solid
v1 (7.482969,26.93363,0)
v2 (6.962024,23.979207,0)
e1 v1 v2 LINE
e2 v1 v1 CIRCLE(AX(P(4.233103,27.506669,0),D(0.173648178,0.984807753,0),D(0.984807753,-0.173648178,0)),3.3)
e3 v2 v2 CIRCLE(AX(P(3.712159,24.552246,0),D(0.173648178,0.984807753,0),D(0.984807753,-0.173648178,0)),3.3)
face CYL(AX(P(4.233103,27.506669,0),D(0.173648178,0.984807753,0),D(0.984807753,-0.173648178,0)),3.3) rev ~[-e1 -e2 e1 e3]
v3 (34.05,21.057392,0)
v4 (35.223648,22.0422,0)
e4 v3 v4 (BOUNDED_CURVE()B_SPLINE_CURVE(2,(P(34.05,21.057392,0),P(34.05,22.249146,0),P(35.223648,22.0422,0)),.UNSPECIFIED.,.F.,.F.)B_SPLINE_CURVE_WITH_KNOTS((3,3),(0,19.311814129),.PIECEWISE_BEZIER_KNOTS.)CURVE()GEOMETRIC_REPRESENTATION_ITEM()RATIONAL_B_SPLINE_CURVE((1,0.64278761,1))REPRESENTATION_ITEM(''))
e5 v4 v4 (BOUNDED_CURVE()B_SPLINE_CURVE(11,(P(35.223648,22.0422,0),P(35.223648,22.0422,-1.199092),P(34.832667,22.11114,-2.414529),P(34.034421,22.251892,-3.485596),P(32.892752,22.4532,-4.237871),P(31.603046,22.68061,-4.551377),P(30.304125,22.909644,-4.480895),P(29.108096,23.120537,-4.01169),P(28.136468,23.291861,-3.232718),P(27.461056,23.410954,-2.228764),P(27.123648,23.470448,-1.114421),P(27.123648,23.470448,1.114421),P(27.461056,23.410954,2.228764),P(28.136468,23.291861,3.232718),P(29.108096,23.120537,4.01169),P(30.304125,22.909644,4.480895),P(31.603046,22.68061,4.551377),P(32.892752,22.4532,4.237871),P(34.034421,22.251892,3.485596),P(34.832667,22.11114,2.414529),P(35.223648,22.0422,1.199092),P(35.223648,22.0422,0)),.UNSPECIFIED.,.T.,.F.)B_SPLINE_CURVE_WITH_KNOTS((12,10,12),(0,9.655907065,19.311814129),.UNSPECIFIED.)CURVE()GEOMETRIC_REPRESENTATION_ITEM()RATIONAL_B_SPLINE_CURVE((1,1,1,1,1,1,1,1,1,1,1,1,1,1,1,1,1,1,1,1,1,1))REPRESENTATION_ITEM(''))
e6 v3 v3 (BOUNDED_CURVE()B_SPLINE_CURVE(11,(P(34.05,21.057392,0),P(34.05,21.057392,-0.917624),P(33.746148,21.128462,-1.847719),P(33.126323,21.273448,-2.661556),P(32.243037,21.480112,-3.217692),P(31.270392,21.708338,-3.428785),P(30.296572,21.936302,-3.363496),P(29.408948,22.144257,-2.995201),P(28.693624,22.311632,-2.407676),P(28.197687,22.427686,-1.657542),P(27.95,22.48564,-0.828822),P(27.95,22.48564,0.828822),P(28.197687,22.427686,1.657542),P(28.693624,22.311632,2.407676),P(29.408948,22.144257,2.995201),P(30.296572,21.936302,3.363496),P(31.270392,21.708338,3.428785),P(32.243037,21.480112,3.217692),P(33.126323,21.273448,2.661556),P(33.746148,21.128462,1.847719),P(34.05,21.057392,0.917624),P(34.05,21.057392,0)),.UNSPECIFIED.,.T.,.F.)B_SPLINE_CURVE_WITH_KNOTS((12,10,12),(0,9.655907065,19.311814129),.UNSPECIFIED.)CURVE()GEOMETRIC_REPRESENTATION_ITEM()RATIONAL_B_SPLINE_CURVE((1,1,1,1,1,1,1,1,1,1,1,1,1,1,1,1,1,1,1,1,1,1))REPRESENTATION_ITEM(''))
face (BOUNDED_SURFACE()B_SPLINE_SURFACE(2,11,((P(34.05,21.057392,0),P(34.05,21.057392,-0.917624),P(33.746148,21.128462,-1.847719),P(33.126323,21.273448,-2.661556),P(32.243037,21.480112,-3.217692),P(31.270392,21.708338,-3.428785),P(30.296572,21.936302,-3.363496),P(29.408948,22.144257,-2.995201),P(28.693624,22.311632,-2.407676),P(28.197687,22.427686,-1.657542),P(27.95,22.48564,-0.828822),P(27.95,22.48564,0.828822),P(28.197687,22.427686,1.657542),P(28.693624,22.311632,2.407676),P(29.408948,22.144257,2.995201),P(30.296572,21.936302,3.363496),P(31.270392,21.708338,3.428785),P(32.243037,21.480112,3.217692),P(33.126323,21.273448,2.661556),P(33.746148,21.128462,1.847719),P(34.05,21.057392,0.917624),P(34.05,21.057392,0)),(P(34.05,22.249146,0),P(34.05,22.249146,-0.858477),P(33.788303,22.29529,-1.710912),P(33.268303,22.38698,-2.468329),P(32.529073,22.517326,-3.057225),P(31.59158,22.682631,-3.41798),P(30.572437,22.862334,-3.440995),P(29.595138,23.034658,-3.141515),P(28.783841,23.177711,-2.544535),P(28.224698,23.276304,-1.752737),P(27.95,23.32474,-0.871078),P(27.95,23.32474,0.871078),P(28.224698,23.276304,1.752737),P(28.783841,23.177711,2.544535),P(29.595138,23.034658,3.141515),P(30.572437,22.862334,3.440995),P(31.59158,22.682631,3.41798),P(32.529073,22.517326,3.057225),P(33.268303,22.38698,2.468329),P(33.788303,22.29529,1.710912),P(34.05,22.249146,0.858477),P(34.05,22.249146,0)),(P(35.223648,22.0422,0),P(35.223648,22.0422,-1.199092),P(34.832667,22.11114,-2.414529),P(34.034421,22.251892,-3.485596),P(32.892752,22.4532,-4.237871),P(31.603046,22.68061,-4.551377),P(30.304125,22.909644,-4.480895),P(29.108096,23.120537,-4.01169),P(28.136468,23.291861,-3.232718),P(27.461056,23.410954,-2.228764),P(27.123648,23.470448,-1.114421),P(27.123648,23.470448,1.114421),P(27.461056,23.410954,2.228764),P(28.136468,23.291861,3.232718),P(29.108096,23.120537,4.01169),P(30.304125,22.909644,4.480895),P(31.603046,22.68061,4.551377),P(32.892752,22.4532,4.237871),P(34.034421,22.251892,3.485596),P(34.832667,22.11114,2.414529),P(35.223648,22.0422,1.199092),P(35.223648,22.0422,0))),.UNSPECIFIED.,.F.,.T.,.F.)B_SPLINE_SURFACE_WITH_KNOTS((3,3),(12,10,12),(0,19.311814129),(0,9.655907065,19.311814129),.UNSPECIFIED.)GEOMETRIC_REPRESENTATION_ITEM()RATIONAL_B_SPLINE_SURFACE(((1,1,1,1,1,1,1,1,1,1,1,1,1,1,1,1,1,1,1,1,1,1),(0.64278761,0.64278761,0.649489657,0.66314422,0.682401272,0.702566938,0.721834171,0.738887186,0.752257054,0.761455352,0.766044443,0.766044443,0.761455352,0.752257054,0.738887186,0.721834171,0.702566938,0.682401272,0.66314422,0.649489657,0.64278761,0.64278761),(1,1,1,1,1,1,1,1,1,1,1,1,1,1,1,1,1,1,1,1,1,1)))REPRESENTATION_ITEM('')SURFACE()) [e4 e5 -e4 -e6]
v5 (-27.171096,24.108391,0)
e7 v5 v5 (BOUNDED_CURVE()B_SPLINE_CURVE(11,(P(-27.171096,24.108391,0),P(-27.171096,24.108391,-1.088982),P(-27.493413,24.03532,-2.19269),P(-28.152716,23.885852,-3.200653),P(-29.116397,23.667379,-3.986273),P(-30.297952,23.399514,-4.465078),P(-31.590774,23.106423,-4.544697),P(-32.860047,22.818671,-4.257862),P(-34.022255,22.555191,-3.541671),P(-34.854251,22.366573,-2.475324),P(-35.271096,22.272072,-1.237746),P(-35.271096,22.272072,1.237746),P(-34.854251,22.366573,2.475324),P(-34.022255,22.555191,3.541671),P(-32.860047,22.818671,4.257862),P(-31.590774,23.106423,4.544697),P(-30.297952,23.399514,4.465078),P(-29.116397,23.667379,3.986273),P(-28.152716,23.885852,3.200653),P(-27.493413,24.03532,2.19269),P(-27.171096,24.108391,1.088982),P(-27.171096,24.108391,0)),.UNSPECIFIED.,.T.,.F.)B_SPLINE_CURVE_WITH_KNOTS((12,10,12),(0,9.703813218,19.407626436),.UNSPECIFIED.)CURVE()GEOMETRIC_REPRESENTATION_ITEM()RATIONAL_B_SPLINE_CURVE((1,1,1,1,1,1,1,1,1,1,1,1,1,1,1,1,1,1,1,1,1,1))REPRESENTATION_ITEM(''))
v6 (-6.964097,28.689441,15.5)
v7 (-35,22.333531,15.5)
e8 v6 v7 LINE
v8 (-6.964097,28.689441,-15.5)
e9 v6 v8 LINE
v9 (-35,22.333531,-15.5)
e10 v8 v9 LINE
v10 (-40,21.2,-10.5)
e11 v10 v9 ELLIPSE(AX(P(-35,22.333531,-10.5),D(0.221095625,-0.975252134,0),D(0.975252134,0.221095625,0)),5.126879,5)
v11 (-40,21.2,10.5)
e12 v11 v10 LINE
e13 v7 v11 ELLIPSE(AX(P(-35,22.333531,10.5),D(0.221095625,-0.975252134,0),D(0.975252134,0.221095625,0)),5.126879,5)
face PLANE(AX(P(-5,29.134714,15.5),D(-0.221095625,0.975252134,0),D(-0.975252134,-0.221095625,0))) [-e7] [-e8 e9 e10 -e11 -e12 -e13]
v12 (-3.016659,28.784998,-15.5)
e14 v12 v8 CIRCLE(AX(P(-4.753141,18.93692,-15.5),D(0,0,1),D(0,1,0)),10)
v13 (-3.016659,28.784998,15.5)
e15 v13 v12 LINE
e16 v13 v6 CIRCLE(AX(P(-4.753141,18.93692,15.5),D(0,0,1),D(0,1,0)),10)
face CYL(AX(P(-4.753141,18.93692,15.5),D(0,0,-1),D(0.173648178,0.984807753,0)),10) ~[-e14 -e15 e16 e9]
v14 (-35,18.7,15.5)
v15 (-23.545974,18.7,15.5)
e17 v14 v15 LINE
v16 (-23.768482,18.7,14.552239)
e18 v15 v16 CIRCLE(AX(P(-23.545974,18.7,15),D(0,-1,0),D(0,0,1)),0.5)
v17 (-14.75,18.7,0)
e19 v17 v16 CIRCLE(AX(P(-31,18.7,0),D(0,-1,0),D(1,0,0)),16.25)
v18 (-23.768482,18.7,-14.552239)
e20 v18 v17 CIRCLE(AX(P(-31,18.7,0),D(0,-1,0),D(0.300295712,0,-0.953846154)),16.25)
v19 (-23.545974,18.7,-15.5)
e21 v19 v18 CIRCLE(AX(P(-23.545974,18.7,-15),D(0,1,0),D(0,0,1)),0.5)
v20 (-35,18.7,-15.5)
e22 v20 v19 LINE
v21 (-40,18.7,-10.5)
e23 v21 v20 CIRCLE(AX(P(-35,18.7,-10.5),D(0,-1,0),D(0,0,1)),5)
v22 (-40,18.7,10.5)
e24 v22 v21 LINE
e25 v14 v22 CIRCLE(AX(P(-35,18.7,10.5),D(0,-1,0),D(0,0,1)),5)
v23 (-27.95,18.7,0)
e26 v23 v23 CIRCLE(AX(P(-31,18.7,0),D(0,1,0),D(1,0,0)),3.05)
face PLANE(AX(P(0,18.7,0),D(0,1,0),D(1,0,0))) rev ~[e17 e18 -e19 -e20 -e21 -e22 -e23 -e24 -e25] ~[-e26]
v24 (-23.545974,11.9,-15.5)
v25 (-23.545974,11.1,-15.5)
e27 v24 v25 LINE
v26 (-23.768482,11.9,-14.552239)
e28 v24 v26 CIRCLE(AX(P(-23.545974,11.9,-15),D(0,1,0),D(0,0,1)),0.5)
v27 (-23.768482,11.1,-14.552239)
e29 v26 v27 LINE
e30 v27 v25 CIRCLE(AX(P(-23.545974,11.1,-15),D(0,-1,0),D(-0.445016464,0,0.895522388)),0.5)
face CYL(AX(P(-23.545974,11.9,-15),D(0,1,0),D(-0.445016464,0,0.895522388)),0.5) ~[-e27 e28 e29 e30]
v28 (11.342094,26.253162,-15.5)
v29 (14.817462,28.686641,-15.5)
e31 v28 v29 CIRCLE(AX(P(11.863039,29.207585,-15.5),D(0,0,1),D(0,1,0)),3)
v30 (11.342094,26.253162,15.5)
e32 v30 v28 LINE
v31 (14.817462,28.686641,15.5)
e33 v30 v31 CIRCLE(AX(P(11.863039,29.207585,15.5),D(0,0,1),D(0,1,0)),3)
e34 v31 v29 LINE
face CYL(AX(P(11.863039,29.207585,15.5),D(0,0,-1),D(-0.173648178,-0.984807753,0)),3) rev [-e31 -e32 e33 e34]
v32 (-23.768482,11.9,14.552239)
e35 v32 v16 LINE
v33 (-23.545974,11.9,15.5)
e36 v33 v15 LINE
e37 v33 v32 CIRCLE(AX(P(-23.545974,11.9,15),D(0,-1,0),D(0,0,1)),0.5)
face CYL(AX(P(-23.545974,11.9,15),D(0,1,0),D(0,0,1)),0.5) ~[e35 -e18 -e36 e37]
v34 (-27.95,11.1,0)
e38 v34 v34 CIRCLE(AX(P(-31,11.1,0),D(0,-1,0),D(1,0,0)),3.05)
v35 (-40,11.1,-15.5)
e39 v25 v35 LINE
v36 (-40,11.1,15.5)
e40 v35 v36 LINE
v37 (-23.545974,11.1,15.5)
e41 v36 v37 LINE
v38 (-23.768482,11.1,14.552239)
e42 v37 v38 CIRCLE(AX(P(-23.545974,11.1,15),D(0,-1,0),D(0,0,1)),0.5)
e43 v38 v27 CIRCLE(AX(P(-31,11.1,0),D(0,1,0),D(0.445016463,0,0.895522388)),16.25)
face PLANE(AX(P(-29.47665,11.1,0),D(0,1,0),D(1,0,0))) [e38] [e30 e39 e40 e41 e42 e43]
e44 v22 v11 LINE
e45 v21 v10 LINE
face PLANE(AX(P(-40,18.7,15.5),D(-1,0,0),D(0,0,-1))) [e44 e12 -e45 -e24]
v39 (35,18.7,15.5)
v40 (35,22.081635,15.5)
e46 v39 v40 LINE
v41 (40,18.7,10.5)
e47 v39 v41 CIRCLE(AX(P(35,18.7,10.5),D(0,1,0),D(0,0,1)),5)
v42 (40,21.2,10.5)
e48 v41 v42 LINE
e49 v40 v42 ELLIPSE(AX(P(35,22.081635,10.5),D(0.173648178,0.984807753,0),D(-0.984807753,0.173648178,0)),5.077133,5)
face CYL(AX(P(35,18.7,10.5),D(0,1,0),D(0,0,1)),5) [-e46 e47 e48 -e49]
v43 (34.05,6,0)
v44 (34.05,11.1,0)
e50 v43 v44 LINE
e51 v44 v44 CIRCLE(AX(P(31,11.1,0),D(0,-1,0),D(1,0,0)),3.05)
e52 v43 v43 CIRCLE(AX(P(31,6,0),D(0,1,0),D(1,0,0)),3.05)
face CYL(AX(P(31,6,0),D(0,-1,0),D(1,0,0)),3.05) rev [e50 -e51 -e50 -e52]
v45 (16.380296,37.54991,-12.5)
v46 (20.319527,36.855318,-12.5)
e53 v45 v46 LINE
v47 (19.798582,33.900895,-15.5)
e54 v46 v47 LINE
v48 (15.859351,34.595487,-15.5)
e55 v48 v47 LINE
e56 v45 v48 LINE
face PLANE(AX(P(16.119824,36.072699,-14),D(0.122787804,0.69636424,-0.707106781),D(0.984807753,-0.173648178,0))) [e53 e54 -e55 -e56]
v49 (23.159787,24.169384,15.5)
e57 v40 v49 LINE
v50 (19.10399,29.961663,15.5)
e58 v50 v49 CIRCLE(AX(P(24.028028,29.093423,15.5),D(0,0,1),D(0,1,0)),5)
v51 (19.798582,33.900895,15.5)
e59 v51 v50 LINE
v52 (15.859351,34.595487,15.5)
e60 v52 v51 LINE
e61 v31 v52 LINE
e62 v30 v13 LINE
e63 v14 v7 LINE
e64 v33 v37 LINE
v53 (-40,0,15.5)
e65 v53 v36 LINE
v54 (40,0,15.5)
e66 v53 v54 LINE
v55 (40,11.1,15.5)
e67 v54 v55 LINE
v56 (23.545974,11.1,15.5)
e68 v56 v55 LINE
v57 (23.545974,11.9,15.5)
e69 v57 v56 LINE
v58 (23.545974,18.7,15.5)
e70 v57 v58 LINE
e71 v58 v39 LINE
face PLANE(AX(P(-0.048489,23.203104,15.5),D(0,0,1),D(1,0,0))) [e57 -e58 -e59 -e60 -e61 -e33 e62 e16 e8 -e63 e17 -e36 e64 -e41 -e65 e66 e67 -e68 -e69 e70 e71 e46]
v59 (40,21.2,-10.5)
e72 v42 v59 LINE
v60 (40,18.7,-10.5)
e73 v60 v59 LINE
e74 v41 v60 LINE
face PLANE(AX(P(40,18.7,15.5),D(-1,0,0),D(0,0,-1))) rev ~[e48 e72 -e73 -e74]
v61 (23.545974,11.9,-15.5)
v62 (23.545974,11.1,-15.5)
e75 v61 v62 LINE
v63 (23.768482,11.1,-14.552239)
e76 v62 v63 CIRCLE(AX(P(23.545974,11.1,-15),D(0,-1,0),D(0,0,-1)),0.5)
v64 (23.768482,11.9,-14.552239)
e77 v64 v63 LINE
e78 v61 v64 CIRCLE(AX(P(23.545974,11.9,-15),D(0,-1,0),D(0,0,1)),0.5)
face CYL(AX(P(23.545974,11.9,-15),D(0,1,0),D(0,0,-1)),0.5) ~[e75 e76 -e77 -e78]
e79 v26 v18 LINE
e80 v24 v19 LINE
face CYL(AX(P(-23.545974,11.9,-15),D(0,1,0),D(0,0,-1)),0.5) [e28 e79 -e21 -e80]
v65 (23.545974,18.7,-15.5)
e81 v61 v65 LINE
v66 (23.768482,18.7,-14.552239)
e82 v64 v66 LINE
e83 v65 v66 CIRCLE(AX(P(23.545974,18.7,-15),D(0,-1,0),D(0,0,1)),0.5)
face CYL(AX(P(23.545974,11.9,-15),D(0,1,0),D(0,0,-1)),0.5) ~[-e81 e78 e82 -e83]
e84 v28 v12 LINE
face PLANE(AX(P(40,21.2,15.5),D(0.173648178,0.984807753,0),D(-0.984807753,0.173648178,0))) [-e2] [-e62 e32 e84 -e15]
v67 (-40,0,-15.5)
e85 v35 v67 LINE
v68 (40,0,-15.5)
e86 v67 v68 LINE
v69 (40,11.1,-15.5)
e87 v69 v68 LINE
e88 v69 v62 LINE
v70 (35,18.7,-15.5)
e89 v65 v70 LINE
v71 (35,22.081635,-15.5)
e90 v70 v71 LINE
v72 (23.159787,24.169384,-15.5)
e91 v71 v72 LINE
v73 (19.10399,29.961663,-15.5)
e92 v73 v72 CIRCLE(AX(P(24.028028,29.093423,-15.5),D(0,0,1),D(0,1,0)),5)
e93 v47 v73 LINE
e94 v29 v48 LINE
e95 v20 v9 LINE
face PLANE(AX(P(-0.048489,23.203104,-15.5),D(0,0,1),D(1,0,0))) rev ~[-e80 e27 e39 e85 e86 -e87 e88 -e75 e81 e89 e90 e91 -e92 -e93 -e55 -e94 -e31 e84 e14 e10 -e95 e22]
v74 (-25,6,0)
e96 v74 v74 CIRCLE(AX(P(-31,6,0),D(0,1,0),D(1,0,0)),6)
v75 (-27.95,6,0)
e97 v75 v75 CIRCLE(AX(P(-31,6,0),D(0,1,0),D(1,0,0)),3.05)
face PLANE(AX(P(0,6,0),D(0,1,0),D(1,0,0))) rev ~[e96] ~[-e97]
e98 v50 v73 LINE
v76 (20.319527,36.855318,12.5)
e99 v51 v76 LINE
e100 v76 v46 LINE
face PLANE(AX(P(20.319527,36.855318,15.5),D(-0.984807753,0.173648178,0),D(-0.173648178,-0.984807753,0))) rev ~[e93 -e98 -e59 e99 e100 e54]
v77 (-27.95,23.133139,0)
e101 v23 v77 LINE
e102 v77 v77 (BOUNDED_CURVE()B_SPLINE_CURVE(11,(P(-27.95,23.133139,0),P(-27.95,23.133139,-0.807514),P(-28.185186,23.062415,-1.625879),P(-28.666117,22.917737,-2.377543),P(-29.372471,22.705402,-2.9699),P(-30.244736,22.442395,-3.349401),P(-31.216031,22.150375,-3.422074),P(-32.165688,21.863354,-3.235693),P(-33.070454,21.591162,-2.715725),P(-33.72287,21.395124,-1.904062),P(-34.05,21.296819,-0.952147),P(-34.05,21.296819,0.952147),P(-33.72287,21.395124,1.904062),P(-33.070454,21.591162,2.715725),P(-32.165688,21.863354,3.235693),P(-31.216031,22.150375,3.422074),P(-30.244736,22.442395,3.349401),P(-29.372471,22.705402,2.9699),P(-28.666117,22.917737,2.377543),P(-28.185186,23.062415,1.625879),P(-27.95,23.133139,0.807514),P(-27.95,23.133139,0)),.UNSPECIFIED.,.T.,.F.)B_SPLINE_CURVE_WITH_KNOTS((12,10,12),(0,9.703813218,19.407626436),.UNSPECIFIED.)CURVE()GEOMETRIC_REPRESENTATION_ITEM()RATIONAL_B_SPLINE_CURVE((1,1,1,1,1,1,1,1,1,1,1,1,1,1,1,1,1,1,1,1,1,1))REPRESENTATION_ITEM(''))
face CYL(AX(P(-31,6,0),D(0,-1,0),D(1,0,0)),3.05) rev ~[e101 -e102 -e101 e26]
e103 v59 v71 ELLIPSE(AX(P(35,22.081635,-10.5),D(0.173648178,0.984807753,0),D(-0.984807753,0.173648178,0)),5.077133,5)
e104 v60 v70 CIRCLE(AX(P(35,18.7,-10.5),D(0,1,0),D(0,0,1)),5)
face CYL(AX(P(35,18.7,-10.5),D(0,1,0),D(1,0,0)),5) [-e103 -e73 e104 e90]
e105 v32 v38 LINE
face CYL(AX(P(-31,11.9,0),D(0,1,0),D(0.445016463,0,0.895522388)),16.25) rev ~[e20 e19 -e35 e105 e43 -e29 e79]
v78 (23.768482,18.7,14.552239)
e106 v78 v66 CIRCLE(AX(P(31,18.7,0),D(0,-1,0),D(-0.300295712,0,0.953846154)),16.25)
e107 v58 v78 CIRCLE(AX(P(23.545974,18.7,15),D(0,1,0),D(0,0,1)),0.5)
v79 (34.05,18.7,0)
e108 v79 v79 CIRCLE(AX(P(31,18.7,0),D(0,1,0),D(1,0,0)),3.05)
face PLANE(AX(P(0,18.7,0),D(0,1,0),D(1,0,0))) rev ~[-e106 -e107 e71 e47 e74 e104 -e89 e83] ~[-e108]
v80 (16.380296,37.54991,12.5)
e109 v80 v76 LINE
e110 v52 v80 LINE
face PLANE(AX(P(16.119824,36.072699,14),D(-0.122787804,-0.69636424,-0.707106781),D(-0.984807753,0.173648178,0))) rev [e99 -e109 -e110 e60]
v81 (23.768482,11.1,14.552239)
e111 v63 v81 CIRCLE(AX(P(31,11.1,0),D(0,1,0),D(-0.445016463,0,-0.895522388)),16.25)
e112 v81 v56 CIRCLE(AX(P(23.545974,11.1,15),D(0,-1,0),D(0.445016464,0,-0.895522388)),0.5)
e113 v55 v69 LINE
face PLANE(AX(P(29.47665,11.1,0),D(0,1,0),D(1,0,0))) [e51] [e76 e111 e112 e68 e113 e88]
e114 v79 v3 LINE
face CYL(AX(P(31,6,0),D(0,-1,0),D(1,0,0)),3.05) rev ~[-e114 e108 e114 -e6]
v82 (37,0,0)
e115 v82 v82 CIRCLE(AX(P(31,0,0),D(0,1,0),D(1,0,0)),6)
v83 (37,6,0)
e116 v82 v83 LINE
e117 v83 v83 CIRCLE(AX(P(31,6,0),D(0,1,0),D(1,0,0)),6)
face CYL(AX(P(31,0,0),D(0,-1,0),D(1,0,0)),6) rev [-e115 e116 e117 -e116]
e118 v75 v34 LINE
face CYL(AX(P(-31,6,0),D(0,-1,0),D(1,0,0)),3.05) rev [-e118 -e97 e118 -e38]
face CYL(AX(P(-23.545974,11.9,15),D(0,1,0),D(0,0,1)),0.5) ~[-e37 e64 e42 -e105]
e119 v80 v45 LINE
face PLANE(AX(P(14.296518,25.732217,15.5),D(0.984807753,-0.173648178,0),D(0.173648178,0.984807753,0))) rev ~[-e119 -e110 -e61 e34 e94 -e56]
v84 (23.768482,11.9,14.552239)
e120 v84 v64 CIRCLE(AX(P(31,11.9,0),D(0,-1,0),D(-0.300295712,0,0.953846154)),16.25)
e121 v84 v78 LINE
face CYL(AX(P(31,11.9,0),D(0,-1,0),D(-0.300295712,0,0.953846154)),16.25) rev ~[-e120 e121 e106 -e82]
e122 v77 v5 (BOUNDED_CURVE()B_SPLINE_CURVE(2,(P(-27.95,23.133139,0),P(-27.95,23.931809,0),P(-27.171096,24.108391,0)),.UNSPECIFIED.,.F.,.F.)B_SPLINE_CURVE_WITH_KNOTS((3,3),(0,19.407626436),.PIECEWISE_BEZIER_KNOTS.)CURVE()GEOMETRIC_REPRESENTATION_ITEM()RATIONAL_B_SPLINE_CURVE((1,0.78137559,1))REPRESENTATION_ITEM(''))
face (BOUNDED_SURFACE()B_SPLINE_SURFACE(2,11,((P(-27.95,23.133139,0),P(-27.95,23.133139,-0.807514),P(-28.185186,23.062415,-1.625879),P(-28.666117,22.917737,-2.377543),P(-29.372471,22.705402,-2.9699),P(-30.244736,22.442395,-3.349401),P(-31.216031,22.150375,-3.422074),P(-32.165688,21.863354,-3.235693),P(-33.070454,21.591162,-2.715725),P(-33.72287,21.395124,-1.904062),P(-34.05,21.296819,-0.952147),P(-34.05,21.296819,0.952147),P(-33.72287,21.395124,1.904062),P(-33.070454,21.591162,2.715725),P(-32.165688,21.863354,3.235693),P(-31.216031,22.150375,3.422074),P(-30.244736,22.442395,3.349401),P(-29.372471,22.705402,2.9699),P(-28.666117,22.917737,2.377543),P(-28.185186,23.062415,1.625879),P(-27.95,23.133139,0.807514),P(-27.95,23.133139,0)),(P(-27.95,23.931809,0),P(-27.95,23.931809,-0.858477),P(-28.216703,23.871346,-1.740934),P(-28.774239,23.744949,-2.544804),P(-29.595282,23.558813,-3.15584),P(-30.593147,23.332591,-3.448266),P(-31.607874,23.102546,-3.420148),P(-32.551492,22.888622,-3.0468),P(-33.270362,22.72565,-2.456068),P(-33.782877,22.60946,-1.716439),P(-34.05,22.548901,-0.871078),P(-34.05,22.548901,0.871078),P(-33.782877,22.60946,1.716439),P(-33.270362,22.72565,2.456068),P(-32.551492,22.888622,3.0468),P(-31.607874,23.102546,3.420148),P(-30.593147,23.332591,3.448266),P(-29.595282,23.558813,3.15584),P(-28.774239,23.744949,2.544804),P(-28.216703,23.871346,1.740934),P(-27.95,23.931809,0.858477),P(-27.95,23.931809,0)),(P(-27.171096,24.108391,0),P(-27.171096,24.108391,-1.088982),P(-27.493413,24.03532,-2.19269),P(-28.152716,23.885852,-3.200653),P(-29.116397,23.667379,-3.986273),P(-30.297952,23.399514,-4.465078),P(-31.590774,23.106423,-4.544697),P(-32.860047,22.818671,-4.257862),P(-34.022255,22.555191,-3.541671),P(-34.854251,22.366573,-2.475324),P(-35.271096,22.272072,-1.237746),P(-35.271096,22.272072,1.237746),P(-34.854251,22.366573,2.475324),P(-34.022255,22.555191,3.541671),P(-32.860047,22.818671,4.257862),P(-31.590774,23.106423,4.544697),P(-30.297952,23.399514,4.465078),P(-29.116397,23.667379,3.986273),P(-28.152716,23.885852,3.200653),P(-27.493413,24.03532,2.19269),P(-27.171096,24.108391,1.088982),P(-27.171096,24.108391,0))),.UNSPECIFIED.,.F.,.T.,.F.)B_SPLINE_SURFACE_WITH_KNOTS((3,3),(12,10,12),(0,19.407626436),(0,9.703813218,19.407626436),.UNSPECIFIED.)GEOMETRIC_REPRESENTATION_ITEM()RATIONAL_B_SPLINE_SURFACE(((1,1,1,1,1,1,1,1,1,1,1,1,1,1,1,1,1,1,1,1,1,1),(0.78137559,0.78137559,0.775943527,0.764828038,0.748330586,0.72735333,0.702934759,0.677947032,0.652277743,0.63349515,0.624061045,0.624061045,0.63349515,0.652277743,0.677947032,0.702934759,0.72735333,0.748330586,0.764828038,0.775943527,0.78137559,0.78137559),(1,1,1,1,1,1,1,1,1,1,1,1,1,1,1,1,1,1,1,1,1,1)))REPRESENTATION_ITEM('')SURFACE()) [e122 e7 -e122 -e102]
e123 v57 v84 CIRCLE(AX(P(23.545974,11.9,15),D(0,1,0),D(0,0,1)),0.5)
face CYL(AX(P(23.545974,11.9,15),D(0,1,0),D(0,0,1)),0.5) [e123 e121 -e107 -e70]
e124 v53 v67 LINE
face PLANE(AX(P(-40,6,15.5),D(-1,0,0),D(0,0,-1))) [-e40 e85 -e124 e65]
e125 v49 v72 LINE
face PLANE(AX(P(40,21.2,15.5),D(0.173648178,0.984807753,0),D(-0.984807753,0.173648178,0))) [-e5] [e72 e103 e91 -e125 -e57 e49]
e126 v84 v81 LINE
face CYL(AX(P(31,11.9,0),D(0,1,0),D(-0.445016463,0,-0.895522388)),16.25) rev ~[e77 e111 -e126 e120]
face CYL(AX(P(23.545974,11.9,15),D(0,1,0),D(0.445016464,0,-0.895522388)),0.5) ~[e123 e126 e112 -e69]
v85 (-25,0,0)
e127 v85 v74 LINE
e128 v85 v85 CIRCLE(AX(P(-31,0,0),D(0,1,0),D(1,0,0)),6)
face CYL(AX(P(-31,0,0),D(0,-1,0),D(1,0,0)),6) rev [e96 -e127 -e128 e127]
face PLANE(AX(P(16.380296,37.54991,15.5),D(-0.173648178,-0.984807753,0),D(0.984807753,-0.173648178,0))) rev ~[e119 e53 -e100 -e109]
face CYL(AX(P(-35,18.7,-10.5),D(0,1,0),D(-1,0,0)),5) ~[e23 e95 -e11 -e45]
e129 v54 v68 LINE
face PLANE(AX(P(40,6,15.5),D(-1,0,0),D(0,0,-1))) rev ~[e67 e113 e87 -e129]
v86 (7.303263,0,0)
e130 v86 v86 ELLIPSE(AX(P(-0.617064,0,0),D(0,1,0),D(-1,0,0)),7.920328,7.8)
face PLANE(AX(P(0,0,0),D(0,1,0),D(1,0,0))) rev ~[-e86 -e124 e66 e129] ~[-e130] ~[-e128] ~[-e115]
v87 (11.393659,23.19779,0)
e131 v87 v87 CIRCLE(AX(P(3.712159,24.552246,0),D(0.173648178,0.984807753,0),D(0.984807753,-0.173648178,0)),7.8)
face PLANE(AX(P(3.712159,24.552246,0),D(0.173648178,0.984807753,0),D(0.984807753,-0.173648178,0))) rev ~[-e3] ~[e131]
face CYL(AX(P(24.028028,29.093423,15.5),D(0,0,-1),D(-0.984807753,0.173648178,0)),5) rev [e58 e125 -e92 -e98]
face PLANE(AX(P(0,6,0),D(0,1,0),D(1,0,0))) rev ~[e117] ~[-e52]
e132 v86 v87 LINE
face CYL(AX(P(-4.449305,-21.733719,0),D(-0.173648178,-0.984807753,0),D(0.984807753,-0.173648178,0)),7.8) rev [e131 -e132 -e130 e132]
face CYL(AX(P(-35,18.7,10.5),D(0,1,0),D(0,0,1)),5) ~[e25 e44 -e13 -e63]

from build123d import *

# Parameters (mm, degrees)
SKETCH1_W           = 80
SKETCH1_H           = 31
SKETCH1_R           = 6
BOSS_EXTRUDE1_DEPTH = 6
SKETCH2_W           = 80
SKETCH2_H           = 31
SKETCH2_R           = 3.05
BOSS_EXTRUDE2_DEPTH = 5.9
BOSS_EXTRUDE3_DEPTH = 6.8
FILLET1_R           = 0.5
SKETCH4_W           = 80
SKETCH4_H           = 31
SKETCH4_R           = 3.05
BOSS_EXTRUDE4_DEPTH = 2.5
BOSS_EXTRUDE5_DEPTH = 31
SKETCH6_R           = 3.3
CUT_EXTRUDE1_DEPTH  = 48
SKETCH7_R           = 7.8
CUT_EXTRUDE2_DEPTH  = 47
BOSS_EXTRUDE6_DEPTH = 31
FILLET2_R           = 3
FILLET3_R           = 5
CHAMFER1_SIZE       = 3
FILLET4_R           = 5
FILLET5_R           = 10
SKETCH9_R           = 3.05
CUT_EXTRUDE3_DEPTH  = 32.549910473
FILLET6_R           = 1
CUT_EXTRUDE4_DEPTH  = 0.8


with BuildPart() as part:
    # Sketch1 → Boss-Extrude1 (new body)
    with BuildSketch(Plane(origin=(0, 0, 0), x_dir=(1, 0, 0), z_dir=(0, 1, 0))):
        Rectangle(SKETCH1_W, SKETCH1_H)
        with Locations((-31, 0)):
            Circle(SKETCH1_R, mode=Mode.SUBTRACT)
        with Locations((31, 0)):
            Circle(SKETCH1_R, mode=Mode.SUBTRACT)
    extrude(amount=BOSS_EXTRUDE1_DEPTH)

    # Sketch2 → Boss-Extrude2 (add)
    with BuildSketch(Plane(origin=(0, 6, 0), x_dir=(1, 0, 0), z_dir=(0, 1, 0))):
        Rectangle(SKETCH2_W, SKETCH2_H)
        with Locations((-31, 0)):
            Circle(SKETCH2_R, mode=Mode.SUBTRACT)
        with Locations((31, 0)):
            Circle(SKETCH2_R, mode=Mode.SUBTRACT)
    extrude(amount=BOSS_EXTRUDE2_DEPTH)

    # Sketch3 → Boss-Extrude3 (add)
    with BuildSketch(Plane(origin=(0, 11.9, 0), x_dir=(1, 0, 0), z_dir=(0, 1, 0))):
        with BuildLine():
            ThreePointArc((26.120194676, -15.5), (14.75, 0), (26.120194676, 15.5))
            Line((26.120194676, 15.5), (-26.120194676, 15.5))
            ThreePointArc((-26.120194676, 15.5), (-17.897341176, 9.611598813), (-14.75, 0))
            ThreePointArc((-14.75, 0), (-17.897341176, -9.611598813), (-26.120194676, -15.5))
            Line((-26.120194676, -15.5), (26.120194676, -15.5))
        make_face()
    extrude(amount=BOSS_EXTRUDE3_DEPTH)

    # Fillet1
    fillet1_edges = [part.edges().sort_by_distance(p)[0] for p in [
        (26.120194676, 15.3, 15.5),
        (26.120194676, 15.3, -15.5),
        (-26.120194676, 15.3, -15.5),
        (-26.120194676, 15.3, 15.5),
    ]]
    fillet(fillet1_edges, radius=FILLET1_R)

    # Sketch4 → Boss-Extrude4 (add)
    with BuildSketch(Plane(origin=(0, 18.7, 0), x_dir=(1, 0, 0), z_dir=(0, 1, 0))):
        Rectangle(SKETCH4_W, SKETCH4_H)
        with Locations((-31, 0)):
            Circle(SKETCH4_R, mode=Mode.SUBTRACT)
        with Locations((31, 0)):
            Circle(SKETCH4_R, mode=Mode.SUBTRACT)
    extrude(amount=BOSS_EXTRUDE4_DEPTH)

    # Sketch5 → Boss-Extrude5 (add)
    with BuildSketch(Plane.XY.offset(15.5)):
        Polygon((40, 21.2), (-5, 29.134714132), (-40, 21.2), align=None)
    extrude(amount=-BOSS_EXTRUDE5_DEPTH)

    # Sketch6 → Cut-Extrude1 (cut)
    with BuildSketch(Plane(origin=(4.831561104, 27.401144647, 0), x_dir=(0.984807753, -0.173648178, 0), z_dir=(0.173648178, 0.984807753, 0))):
        with Locations((-0.60768988, 0)):
            Circle(SKETCH6_R)
    extrude(amount=-CUT_EXTRUDE1_DEPTH, mode=Mode.SUBTRACT)

    # Sketch7 → Cut-Extrude2 (cut)
    with BuildSketch(Plane(origin=(-3.85084778, -21.839243004, 0), x_dir=(0.984807753, -0.173648178, 0), z_dir=(0.173648178, 0.984807753, 0))):
        with Locations((-0.60768988, 0)):
            Circle(SKETCH7_R)
    extrude(amount=CUT_EXTRUDE2_DEPTH, mode=Mode.SUBTRACT)

    # Sketch8 → Boss-Extrude6 (add)
    with BuildSketch(Plane.XY.offset(15.5)):
        Polygon((14.296517646, 25.732217437), (16.380295778, 37.549910473), (20.31952679, 36.855317763), (18.235748658, 25.037624726), align=None)
    extrude(amount=-BOSS_EXTRUDE6_DEPTH)

    # Fillet2
    fillet2_edges = [part.edges().sort_by_distance(p)[0] for p in [
        (14.296517646, 25.732217437, 0),
    ]]
    fillet(fillet2_edges, radius=FILLET2_R)

    # Fillet3
    fillet3_edges = [part.edges().sort_by_distance(p)[0] for p in [
        (18.235748658, 25.037624726, 0),
    ]]
    fillet(fillet3_edges, radius=FILLET3_R)

    # Chamfer1
    chamfer1_edges = [part.edges().sort_by_distance(p)[0] for p in [
        (18.349911284, 37.202614118, 15.5),
        (18.349911284, 37.202614118, -15.5),
    ]]
    chamfer(chamfer1_edges, length=CHAMFER1_SIZE)

    # Fillet4
    fillet4_edges = [part.edges().sort_by_distance(p)[0] for p in [
        (-40, 19.95, -15.5),
        (-40, 19.95, 15.5),
        (40, 19.95, 15.5),
        (40, 19.95, -15.5),
    ]]
    fillet(fillet4_edges, radius=FILLET4_R)

    # Fillet5
    fillet5_edges = [part.edges().sort_by_distance(p)[0] for p in [
        (-5, 29.134714132, 0),
    ]]
    fillet(fillet5_edges, radius=FILLET5_R)

    # Sketch9 → Cut-Extrude3 (cut, through all)
    with BuildSketch(Plane.XZ.offset(-6)):
        with Locations((-31, 0)):
            Circle(SKETCH9_R)
        with Locations((31, 0)):
            Circle(SKETCH9_R)
    extrude(amount=-CUT_EXTRUDE3_DEPTH, mode=Mode.SUBTRACT)

    # Fillet6
    fillet6_edges = [part.edges().sort_by_distance(p)[0] for p in [
        (27.95, 23.324740118, 2.44e-07),
        (-34.05, 22.548901402, 8.61e-07),
    ]]
    fillet(fillet6_edges, radius=FILLET6_R)

    # Sketch10 → Cut-Extrude4 (cut)
    with BuildSketch(Plane(origin=(0, 11.9, 0), x_dir=(1, 0, 0), z_dir=(0, 1, 0))):
        with BuildLine():
            Line((40, 15.5), (23.545974242, 15.5))
            ThreePointArc((23.545974242, 15.5), (24.032739379, 15.114279051), (23.768482474, 14.552238806))
            ThreePointArc((23.768482474, 14.552238806), (14.75, 0), (23.768482474, -14.552238806))
            ThreePointArc((23.768482474, -14.552238806), (24.032739379, -15.114279051), (23.545974242, -15.5))
            Line((23.545974242, -15.5), (40, -15.5))
            Line((40, -15.5), (40, 15.5))
        make_face()
        with BuildLine():
            Line((-40, -15.5), (-23.545974242, -15.5))
            ThreePointArc((-23.545974242, -15.5), (-24.032739379, -15.114279051), (-23.768482474, -14.552238806))
            ThreePointArc((-23.768482474, -14.552238806), (-14.75, 0), (-23.768482474, 14.552238806))
            ThreePointArc((-23.768482474, 14.552238806), (-24.032739379, 15.114279051), (-23.545974242, 15.5))
            Line((-23.545974242, 15.5), (-40, 15.5))
            Line((-40, 15.5), (-40, -15.5))
        make_face()
    extrude(amount=-CUT_EXTRUDE4_DEPTH, mode=Mode.SUBTRACT)


solid = part.part
